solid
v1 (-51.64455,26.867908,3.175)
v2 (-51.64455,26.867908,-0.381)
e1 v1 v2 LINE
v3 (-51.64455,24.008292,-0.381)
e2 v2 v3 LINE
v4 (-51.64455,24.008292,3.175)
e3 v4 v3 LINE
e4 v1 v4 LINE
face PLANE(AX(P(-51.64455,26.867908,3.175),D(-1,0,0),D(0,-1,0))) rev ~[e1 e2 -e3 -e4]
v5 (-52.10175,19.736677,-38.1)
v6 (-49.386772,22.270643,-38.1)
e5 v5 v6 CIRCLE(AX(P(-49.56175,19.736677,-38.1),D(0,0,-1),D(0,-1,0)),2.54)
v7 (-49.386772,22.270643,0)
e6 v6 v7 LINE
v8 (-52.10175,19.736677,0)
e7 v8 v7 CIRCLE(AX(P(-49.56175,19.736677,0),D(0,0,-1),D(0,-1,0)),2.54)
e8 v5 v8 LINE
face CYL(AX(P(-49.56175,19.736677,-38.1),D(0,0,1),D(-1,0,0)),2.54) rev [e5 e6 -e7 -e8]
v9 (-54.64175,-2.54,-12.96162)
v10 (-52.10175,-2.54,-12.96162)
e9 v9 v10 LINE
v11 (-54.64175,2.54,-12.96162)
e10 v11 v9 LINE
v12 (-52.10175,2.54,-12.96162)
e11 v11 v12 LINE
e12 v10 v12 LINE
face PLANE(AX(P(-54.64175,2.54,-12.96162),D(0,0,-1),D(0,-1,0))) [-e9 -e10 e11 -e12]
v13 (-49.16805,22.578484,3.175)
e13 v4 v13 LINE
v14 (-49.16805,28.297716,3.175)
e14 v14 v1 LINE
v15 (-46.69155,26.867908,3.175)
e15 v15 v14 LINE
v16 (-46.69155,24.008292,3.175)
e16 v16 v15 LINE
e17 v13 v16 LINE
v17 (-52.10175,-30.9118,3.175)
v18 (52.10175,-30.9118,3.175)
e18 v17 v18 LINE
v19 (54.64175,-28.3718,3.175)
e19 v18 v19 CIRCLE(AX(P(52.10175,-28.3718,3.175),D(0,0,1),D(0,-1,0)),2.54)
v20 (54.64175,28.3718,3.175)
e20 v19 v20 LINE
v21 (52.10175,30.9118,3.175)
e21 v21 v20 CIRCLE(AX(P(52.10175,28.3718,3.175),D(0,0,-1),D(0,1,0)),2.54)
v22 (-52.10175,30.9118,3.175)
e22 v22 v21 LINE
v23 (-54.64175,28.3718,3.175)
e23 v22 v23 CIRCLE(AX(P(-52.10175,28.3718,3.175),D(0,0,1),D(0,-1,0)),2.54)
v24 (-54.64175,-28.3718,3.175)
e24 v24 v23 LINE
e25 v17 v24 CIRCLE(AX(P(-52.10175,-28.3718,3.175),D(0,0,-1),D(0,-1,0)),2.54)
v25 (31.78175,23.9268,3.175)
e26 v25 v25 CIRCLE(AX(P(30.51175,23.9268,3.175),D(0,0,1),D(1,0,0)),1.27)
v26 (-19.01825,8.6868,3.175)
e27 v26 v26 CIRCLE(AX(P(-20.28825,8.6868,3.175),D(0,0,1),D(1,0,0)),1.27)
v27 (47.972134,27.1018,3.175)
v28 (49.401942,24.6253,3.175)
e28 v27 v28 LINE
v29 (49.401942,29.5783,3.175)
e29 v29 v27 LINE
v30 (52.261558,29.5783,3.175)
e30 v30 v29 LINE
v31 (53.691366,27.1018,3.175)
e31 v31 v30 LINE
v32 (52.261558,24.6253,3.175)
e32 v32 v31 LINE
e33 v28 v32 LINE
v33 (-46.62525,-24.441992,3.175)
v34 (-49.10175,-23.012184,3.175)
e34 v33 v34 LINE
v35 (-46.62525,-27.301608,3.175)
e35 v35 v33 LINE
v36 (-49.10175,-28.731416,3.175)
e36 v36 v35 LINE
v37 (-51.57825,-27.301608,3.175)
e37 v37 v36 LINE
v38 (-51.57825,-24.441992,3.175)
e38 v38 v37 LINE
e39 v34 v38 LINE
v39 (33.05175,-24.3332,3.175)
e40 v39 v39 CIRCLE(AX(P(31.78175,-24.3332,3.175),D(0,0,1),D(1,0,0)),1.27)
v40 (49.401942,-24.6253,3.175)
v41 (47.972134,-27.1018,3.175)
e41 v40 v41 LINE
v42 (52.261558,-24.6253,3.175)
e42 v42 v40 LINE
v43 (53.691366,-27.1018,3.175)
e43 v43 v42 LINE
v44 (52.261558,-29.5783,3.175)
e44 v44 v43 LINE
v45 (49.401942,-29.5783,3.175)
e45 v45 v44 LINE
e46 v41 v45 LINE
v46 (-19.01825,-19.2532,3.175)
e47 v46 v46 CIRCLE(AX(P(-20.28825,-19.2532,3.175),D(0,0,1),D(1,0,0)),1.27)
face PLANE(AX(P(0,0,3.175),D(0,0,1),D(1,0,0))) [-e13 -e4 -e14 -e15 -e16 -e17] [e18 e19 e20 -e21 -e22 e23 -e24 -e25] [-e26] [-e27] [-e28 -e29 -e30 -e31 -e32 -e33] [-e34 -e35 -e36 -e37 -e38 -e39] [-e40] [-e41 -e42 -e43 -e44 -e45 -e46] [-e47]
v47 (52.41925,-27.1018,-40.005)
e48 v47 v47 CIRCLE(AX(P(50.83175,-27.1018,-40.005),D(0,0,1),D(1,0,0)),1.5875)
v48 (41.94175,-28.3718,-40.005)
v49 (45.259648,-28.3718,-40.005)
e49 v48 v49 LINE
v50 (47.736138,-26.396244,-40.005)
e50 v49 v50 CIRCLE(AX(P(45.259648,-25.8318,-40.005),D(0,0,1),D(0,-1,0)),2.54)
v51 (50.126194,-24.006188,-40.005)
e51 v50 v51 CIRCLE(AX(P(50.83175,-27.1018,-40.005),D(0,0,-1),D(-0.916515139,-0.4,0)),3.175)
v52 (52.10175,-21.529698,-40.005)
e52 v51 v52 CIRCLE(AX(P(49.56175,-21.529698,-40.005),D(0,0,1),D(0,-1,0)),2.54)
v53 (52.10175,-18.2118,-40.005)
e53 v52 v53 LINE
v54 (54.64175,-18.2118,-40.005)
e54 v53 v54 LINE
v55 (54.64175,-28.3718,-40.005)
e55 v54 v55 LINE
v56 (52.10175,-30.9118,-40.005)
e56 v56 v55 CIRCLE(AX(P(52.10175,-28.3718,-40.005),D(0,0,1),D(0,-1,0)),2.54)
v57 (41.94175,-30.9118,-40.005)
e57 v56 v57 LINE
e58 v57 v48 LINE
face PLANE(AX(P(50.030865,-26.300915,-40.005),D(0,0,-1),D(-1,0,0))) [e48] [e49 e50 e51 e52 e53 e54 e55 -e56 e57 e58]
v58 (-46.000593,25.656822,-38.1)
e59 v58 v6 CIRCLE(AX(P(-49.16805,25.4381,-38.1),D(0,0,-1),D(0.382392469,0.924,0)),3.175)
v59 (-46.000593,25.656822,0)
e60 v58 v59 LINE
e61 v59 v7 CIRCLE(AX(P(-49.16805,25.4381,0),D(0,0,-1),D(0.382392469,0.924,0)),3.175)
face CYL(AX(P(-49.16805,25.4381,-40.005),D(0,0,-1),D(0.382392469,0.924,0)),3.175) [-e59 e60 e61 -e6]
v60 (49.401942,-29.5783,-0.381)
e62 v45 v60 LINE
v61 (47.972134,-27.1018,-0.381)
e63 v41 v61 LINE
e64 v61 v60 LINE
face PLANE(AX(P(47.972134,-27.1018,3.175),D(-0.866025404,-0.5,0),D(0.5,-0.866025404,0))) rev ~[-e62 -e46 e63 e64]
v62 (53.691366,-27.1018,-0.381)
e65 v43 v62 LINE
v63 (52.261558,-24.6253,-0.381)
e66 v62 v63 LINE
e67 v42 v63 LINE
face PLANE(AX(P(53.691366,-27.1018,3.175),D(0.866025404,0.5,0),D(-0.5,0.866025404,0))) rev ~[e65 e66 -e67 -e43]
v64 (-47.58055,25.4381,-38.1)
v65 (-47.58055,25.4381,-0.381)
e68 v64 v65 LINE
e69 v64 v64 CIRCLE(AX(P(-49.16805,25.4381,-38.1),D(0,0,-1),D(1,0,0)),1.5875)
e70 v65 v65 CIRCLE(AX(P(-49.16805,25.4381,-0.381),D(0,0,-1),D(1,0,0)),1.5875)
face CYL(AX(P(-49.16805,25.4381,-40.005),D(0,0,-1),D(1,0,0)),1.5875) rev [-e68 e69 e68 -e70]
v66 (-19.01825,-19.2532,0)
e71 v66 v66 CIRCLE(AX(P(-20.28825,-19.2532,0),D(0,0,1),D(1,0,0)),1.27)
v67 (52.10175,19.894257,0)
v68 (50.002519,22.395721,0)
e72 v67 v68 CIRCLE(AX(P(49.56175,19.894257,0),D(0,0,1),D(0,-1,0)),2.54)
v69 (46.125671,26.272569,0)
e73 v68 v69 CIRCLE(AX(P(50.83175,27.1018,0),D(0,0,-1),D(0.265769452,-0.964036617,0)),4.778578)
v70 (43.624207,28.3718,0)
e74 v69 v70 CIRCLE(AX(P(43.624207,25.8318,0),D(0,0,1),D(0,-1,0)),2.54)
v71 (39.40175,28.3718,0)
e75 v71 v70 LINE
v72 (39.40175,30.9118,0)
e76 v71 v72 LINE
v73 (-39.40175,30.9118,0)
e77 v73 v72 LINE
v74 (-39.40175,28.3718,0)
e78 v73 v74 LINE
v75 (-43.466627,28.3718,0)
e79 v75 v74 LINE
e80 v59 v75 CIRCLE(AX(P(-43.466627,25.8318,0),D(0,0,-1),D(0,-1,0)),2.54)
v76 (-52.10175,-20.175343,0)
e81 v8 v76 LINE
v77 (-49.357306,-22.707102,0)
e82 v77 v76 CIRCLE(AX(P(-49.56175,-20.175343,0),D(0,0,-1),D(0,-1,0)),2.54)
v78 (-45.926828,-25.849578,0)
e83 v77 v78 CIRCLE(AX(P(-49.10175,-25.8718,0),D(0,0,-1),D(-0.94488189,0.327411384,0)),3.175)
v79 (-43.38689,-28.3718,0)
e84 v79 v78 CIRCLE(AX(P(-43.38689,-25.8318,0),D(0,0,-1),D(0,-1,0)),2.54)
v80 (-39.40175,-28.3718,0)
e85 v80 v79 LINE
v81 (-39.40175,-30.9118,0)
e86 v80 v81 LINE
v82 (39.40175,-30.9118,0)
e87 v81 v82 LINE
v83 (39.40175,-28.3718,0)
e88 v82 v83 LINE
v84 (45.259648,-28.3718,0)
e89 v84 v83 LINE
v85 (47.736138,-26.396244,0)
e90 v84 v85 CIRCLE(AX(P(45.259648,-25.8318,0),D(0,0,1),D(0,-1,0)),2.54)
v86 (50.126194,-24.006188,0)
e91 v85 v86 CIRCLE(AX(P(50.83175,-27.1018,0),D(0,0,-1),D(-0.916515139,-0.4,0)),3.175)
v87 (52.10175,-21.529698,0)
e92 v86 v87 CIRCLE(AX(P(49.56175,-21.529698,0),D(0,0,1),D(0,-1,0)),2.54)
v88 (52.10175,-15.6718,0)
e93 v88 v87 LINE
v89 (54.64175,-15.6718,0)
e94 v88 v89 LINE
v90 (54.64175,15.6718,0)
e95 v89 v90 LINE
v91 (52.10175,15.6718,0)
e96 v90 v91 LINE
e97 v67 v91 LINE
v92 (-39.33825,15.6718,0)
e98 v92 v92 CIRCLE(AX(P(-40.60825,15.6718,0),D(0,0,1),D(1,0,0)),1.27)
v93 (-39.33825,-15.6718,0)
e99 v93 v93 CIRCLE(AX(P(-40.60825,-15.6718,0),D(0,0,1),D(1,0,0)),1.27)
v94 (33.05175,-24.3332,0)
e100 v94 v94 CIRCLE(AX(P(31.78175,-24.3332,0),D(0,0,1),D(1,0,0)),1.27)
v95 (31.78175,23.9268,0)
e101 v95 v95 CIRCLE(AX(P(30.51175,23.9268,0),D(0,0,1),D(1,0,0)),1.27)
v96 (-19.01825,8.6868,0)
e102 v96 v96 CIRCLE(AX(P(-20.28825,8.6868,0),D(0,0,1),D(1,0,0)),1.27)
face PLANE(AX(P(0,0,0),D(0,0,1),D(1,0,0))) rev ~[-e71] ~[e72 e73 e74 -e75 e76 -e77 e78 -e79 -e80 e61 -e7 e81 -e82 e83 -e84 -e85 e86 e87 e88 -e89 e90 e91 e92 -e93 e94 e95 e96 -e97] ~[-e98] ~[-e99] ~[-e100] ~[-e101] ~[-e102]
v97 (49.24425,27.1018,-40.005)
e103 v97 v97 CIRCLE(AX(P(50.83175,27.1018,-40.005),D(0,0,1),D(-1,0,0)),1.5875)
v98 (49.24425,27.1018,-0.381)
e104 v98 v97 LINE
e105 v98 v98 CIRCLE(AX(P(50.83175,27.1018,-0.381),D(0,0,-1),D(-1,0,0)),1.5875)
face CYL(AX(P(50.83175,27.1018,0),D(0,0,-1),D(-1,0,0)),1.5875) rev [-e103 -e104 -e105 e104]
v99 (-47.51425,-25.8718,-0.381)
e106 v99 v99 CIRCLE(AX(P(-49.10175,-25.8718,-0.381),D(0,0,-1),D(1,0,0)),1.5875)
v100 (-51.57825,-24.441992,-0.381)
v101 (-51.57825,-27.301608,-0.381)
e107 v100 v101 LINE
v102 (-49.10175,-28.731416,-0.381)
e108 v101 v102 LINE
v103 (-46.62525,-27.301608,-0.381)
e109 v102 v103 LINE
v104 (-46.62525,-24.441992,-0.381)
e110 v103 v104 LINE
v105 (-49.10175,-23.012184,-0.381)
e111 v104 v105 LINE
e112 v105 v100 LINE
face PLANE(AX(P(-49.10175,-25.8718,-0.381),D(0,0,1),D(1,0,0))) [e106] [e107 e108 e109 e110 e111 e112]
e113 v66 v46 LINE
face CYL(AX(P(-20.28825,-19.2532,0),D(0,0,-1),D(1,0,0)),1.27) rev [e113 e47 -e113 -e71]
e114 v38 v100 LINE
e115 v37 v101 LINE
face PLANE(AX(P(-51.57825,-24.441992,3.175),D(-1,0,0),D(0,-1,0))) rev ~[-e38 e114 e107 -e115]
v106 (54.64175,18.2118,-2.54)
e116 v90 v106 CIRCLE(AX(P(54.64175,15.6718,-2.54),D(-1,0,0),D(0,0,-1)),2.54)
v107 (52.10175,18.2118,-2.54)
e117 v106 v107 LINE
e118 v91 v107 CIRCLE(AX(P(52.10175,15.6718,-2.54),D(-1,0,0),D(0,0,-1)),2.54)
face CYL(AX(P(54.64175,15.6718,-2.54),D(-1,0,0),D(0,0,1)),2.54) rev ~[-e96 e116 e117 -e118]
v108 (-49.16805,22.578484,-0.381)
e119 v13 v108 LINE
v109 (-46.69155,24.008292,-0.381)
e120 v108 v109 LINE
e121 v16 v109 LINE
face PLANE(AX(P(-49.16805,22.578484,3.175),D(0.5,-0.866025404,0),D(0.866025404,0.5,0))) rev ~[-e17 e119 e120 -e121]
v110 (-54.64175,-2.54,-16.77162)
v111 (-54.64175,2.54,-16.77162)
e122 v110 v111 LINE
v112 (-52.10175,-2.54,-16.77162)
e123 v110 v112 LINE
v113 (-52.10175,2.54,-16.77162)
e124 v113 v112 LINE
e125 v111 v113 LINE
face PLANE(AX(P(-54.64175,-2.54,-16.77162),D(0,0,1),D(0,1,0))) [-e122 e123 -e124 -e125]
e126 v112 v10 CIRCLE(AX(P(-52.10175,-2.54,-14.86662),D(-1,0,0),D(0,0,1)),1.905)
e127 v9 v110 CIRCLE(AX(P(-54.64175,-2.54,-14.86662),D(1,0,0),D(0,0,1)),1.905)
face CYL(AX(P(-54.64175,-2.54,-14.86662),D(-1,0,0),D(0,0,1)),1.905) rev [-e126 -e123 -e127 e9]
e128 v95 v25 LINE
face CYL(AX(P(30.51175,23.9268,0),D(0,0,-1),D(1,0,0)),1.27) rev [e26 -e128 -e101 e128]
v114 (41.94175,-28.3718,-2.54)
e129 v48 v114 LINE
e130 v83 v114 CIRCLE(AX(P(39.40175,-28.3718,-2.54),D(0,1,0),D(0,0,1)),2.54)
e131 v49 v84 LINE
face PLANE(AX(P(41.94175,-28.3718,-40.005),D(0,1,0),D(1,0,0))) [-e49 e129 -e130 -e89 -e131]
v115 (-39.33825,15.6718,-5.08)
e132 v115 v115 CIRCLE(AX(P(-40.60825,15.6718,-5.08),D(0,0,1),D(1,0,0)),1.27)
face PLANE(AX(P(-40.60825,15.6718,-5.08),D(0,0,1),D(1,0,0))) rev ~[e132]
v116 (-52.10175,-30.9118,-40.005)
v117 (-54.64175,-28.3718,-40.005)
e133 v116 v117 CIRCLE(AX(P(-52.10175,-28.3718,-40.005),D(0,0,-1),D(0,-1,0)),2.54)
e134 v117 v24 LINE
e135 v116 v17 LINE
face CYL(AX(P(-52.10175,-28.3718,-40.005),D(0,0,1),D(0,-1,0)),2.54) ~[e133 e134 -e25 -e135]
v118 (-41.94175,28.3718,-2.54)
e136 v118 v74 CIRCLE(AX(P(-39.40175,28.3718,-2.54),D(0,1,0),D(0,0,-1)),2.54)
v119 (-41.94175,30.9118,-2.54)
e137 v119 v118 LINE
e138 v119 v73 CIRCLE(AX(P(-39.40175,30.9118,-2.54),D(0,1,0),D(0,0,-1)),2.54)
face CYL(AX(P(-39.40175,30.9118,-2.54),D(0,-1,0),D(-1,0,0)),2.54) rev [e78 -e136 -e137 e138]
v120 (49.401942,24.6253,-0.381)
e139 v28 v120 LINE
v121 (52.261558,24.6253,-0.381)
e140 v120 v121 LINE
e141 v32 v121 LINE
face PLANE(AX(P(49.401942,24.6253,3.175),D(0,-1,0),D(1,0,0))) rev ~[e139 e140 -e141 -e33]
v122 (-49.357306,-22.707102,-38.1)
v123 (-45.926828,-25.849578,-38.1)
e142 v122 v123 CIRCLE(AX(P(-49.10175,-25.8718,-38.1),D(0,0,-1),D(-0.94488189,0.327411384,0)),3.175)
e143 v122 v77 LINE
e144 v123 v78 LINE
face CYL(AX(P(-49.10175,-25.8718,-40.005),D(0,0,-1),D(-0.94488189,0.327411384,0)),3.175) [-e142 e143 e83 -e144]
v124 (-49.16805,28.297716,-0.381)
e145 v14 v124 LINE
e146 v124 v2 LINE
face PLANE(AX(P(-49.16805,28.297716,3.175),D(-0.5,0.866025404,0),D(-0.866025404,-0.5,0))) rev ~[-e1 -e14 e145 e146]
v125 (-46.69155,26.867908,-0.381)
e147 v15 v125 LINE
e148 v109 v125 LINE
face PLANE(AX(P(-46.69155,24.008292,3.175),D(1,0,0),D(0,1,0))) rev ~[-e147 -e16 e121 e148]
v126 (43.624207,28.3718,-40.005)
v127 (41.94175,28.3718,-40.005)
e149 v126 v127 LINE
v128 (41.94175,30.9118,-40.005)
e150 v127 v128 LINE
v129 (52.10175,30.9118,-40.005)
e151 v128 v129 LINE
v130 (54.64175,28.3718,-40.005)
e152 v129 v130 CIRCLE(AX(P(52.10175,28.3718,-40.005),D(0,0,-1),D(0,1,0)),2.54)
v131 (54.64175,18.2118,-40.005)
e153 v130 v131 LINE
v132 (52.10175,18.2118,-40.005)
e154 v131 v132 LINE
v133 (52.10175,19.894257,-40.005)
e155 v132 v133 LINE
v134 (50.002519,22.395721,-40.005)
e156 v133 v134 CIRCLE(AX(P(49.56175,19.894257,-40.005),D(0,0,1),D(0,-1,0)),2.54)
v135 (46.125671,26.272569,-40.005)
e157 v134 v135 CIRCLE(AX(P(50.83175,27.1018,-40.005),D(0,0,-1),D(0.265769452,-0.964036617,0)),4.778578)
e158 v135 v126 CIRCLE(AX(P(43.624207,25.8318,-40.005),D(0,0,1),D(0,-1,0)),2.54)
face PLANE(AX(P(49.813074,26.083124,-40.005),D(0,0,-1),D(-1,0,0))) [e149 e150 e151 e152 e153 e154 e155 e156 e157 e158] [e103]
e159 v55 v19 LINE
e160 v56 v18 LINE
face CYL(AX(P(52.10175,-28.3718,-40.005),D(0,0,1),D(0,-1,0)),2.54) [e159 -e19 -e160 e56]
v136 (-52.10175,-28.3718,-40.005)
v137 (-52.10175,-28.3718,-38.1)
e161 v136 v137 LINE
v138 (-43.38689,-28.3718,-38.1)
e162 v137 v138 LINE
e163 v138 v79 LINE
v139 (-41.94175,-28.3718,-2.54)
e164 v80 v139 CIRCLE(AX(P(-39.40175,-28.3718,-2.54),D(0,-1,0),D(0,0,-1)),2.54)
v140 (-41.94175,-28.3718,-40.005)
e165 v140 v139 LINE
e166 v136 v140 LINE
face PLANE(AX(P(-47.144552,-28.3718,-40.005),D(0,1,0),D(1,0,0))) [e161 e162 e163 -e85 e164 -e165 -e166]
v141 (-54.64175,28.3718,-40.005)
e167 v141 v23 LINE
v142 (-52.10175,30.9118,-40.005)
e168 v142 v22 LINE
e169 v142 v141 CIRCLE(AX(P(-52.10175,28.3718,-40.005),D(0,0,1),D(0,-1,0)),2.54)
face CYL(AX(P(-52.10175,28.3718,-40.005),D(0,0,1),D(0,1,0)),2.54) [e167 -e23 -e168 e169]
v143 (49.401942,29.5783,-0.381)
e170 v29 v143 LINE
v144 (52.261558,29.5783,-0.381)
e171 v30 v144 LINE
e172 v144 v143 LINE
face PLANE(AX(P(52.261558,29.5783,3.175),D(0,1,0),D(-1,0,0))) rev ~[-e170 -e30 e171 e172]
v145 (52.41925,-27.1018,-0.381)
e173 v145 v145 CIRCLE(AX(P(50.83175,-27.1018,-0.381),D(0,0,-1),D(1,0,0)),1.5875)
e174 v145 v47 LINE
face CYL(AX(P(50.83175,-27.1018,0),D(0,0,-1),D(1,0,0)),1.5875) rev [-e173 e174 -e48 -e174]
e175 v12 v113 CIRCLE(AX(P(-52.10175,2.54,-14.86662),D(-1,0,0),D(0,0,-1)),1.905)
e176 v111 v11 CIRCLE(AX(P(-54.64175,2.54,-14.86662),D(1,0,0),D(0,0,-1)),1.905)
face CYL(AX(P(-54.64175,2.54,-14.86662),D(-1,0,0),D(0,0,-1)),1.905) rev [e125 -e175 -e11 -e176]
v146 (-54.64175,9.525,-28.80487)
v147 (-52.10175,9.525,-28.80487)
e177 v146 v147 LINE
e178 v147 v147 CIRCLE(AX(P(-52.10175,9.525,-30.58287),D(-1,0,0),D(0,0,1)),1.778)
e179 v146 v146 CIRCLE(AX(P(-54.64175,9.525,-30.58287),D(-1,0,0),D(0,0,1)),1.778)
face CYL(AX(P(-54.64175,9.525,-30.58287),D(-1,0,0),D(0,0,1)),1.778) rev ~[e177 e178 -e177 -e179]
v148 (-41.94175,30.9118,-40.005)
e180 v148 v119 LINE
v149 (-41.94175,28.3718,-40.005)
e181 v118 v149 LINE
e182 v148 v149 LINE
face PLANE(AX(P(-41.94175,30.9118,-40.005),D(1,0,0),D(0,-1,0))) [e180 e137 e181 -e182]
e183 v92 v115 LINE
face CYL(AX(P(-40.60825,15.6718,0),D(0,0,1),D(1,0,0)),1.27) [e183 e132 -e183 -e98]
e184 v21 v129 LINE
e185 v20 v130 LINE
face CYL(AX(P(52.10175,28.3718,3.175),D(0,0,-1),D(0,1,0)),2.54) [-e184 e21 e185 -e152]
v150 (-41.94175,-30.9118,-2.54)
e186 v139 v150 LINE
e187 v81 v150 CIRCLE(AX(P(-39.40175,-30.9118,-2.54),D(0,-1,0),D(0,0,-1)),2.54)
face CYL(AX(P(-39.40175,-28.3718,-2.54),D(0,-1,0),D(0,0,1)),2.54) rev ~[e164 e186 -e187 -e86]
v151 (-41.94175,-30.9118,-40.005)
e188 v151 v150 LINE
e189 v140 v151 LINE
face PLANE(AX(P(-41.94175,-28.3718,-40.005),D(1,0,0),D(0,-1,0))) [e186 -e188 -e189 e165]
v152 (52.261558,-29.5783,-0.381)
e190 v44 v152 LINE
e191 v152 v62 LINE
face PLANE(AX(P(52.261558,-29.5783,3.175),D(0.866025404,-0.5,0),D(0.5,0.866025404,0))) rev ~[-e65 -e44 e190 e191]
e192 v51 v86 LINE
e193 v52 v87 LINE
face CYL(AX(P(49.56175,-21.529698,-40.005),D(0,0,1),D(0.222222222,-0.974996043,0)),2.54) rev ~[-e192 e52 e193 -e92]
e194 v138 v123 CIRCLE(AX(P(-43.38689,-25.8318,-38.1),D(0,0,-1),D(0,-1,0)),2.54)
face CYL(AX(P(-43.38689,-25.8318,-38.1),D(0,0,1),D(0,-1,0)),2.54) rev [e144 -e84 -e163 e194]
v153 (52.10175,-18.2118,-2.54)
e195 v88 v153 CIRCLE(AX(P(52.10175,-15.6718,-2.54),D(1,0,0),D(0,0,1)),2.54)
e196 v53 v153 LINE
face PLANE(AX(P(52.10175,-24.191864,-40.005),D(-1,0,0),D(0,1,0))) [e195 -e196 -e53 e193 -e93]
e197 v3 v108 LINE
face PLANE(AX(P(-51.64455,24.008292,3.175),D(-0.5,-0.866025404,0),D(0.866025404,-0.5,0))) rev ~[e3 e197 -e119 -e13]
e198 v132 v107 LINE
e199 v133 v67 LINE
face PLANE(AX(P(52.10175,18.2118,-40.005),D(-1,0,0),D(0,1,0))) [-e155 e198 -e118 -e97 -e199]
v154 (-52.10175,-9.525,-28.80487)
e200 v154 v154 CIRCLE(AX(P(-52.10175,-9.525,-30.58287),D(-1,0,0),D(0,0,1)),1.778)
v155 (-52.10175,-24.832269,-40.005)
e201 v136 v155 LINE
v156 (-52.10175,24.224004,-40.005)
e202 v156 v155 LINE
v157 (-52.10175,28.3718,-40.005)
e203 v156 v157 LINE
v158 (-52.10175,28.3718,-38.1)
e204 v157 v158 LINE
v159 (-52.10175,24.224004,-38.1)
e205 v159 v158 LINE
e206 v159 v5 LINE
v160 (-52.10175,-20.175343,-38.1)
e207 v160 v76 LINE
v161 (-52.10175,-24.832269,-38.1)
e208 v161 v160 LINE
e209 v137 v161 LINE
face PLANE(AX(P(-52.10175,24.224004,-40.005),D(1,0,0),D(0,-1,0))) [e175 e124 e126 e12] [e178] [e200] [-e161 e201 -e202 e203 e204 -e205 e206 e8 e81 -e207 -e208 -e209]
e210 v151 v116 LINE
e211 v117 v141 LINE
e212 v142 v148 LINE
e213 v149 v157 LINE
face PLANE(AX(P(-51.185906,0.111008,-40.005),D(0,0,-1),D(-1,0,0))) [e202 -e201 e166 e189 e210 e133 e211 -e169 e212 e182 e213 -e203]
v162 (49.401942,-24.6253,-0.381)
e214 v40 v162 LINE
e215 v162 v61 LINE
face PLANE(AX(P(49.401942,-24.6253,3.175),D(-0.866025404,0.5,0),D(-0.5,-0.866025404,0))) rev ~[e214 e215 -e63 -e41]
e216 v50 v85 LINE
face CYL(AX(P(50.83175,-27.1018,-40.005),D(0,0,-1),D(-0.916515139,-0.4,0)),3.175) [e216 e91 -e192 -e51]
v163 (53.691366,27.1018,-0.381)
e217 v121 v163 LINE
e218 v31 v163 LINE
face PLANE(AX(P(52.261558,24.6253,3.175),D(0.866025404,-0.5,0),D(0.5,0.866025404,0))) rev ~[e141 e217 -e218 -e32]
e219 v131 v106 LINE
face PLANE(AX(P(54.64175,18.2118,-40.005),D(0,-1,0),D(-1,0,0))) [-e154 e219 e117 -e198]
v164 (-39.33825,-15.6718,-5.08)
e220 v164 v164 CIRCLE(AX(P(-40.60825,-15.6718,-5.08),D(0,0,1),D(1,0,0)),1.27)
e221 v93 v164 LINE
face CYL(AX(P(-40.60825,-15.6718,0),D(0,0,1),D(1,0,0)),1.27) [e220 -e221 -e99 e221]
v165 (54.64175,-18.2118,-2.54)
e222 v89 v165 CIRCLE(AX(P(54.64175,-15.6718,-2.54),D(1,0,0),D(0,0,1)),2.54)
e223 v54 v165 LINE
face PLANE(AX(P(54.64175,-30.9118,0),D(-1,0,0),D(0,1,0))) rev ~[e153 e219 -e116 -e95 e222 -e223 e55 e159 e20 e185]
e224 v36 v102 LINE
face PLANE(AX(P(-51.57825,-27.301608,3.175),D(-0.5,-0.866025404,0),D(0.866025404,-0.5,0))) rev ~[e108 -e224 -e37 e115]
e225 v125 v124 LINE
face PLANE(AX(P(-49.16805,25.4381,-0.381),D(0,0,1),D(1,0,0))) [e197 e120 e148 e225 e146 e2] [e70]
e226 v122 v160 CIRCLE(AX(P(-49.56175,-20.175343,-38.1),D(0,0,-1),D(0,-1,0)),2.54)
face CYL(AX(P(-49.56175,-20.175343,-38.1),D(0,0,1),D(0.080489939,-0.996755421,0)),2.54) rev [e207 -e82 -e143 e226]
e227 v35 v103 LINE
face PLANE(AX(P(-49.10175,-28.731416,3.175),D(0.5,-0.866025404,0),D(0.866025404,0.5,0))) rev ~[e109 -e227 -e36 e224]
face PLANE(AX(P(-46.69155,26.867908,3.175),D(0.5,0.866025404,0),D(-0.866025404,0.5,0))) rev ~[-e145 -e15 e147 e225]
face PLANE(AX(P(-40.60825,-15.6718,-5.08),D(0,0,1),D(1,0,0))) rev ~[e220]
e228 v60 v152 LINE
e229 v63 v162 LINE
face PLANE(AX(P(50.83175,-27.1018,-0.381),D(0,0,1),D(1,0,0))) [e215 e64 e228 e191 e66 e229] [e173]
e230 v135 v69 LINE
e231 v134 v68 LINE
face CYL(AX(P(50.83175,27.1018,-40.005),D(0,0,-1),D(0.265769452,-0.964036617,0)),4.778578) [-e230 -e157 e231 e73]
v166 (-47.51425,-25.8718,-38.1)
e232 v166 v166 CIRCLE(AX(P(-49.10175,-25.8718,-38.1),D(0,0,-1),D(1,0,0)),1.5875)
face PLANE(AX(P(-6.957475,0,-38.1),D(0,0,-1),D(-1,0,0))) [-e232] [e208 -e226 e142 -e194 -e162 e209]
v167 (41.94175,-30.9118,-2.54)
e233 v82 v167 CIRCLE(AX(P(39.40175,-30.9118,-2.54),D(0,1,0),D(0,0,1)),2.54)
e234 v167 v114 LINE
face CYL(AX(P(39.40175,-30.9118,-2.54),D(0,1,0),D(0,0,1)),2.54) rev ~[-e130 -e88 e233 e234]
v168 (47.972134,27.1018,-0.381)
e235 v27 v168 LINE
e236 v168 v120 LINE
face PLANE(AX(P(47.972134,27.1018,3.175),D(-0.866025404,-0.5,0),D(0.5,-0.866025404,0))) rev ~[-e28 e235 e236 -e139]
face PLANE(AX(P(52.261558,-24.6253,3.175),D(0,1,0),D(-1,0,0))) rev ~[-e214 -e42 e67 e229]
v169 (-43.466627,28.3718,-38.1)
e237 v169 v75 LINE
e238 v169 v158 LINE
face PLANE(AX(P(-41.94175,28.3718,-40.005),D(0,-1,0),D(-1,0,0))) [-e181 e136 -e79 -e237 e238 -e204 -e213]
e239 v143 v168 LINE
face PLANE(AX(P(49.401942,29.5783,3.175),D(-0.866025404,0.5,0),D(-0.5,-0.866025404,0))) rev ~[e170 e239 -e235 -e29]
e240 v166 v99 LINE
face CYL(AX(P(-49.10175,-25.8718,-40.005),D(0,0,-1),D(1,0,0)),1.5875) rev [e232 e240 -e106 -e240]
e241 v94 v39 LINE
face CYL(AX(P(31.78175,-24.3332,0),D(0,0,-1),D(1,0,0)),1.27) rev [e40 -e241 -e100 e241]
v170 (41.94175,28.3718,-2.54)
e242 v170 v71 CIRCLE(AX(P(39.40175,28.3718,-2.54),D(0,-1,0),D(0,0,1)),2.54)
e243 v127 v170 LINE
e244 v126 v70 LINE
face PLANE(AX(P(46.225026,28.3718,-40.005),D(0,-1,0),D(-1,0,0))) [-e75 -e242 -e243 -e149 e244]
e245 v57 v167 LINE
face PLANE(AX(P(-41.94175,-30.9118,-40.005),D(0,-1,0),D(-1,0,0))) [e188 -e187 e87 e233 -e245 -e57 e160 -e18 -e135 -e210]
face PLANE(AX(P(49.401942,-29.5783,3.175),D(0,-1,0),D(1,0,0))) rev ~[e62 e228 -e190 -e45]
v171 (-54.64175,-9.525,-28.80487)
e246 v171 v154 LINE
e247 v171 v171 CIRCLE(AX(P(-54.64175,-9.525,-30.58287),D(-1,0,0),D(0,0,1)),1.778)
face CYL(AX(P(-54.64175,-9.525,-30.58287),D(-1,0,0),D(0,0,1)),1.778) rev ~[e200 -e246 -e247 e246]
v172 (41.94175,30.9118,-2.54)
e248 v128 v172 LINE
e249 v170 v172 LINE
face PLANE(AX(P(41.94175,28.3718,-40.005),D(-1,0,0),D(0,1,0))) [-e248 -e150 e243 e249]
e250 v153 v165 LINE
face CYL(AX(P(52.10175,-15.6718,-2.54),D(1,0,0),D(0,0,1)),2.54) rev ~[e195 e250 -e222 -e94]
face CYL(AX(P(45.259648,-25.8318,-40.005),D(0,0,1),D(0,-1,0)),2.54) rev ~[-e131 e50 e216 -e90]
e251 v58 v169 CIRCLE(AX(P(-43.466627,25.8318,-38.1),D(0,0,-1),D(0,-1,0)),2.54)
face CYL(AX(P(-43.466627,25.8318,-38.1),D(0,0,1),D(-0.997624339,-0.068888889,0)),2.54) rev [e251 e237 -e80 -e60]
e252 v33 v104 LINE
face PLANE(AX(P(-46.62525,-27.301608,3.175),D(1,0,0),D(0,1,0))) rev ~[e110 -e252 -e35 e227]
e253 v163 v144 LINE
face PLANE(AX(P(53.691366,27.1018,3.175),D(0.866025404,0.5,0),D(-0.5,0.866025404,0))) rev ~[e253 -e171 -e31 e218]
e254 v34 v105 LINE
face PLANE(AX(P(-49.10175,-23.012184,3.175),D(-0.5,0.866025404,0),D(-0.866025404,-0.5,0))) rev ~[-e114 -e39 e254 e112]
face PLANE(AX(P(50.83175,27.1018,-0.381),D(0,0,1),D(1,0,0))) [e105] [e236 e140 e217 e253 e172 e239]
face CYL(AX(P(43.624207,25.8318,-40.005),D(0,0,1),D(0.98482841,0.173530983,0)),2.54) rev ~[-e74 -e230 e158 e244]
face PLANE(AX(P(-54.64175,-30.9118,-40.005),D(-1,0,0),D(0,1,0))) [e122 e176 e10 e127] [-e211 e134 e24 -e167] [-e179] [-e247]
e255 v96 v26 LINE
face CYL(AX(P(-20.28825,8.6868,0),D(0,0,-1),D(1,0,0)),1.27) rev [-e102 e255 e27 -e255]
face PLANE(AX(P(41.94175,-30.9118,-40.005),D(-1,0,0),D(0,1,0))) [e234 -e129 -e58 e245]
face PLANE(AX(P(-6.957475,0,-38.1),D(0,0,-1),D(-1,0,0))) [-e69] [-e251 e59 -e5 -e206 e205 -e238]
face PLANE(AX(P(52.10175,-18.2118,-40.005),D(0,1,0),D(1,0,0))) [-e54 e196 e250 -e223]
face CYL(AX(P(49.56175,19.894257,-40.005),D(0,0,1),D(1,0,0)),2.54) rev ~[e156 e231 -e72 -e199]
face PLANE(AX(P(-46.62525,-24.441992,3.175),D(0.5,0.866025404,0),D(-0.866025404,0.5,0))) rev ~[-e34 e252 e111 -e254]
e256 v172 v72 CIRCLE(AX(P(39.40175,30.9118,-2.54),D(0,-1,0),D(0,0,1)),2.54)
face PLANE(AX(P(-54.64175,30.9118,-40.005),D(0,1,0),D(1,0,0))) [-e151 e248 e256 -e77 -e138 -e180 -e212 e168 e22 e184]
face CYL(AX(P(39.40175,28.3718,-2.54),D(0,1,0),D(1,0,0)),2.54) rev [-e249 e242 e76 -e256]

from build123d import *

# Parameters (mm, degrees)
SKETCH1_W           = 109.2835
SKETCH1_H           = 61.8236
SKETCH1_R           = 1.27
SKETCH1_R_2         = 1.5875
BOSS_EXTRUDE1_DEPTH = 3.175
BOSS_EXTRUDE2_START = -40.005
SKETCH3_R           = 1.5875
BOSS_EXTRUDE2_DEPTH = 40.005
SKETCH4_W           = 90.288549843
SKETCH4_H           = 56.7436
CUT_EXTRUDE1_DEPTH  = 1.905
FILLET1_R           = 2.54
SKETCH6_R           = 1.27
BOSS_EXTRUDE3_DEPTH = 5.08
FILLET2_R           = 2.54
SKETCH9_R           = 1.778
CUT_EXTRUDE4_DEPTH  = 3.81
CUT_EXTRUDE5_DEPTH  = 3.556


with BuildPart() as part:
    # Sketch1 → Boss-Extrude1 (new body)
    with BuildSketch(Plane.XY):
        Rectangle(SKETCH1_W, SKETCH1_H)
        with Locations((30.51175, 23.9268)):
            Circle(SKETCH1_R, mode=Mode.SUBTRACT)
        with Locations((-20.28825, 8.6868)):
            Circle(SKETCH1_R, mode=Mode.SUBTRACT)
        with Locations((-20.28825, -19.2532)):
            Circle(SKETCH1_R, mode=Mode.SUBTRACT)
        with Locations((31.78175, -24.3332)):
            Circle(SKETCH1_R, mode=Mode.SUBTRACT)
        with Locations((50.83175, -27.1018)):
            Circle(SKETCH1_R_2, mode=Mode.SUBTRACT)
        with Locations((-49.16805, 25.4381)):
            Circle(SKETCH1_R_2, mode=Mode.SUBTRACT)
        with Locations((-49.10175, -25.8718)):
            Circle(SKETCH1_R_2, mode=Mode.SUBTRACT)
        with Locations(Location((50.83175, 27.1018, 0), (0, 0, 180))):
            Circle(SKETCH1_R_2, mode=Mode.SUBTRACT)
    extrude(amount=BOSS_EXTRUDE1_DEPTH)

    # Sketch3 → Boss-Extrude2 (add)
    # profile 1 of 3: a face of its own
    with BuildSketch(Plane.XY.offset(BOSS_EXTRUDE2_START)):
        with BuildLine():
            Line((-54.64175, 30.9118), (-41.94175, 30.9118))
            Line((-41.94175, 30.9118), (-41.94175, 28.3718))
            Line((-41.94175, 28.3718), (-47.953953912, 28.3718))
            ThreePointArc((-47.953953912, 28.3718), (-46.92298597, 23.19303597), (-52.10175, 24.224003912))
            Line((-52.10175, 24.224003912), (-52.10175, 18.2118))
            Line((-52.10175, 18.2118), (-52.10175, -18.2118))
            Line((-52.10175, -18.2118), (-52.10175, -24.832268856))
            ThreePointArc((-52.10175, -24.832268856), (-47.256776002, -23.28786967), (-47.144551747, -28.3718))
            Line((-47.144551747, -28.3718), (-41.94175, -28.3718))
            Line((-41.94175, -28.3718), (-41.94175, -30.9118))
            Line((-41.94175, -30.9118), (-54.64175, -30.9118))
            Line((-54.64175, -30.9118), (-54.64175, -18.2118))
            Line((-54.64175, -18.2118), (-54.64175, 18.2118))
            Line((-54.64175, 18.2118), (-54.64175, 30.9118))
        make_face()
        with Locations((-49.16805, 25.4381)):
            Circle(SKETCH3_R, mode=Mode.SUBTRACT)
        with Locations((-49.10175, -25.8718)):
            Circle(SKETCH3_R, mode=Mode.SUBTRACT)
    # profile 2 of 3: a face of its own
    with BuildSketch(Plane.XY.offset(BOSS_EXTRUDE2_START)):
        with BuildLine():
            Line((54.64175, 30.9118), (54.64175, 18.2118))
            Line((54.64175, 18.2118), (52.10175, 18.2118))
            Line((52.10175, 18.2118), (52.10175, 22.49507603))
            ThreePointArc((52.10175, 22.49507603), (47.452785237, 23.722835237), (46.22502603, 28.3718))
            Line((46.22502603, 28.3718), (41.94175, 28.3718))
            Line((41.94175, 28.3718), (41.94175, 30.9118))
            Line((41.94175, 30.9118), (54.64175, 30.9118))
        make_face()
        with Locations(Location((50.83175, 27.1018, 0), (0, 0, 180))):
            Circle(SKETCH3_R, mode=Mode.SUBTRACT)
    # profile 3 of 3: a face of its own
    with BuildSketch(Plane.XY.offset(BOSS_EXTRUDE2_START)):
        with BuildLine():
            Line((52.10175, -24.191864434), (52.10175, -18.2118))
            Line((52.10175, -18.2118), (54.64175, -18.2118))
            Line((54.64175, -18.2118), (54.64175, -30.9118))
            Line((54.64175, -30.9118), (41.94175, -30.9118))
            Line((41.94175, -30.9118), (41.94175, -28.3718))
            Line((41.94175, -28.3718), (47.921814434, -28.3718))
            ThreePointArc((47.921814434, -28.3718), (48.58668597, -24.85673597), (52.10175, -24.191864434))
        make_face()
        with Locations((50.83175, -27.1018)):
            Circle(SKETCH3_R, mode=Mode.SUBTRACT)
    extrude(amount=BOSS_EXTRUDE2_DEPTH)

    # Sketch4 → Cut-Extrude1 (cut)
    with BuildSketch(Plane(origin=(0, 0, -40.005), x_dir=(-1, 0, 0), z_dir=(0, 0, -1))):
        with Locations((6.957475078, 0)):
            Rectangle(SKETCH4_W, SKETCH4_H)
    extrude(amount=-CUT_EXTRUDE1_DEPTH, mode=Mode.SUBTRACT)

    # Fillet1
    fillet1_edges = [part.edges().sort_by_distance(p)[0] for p in [
        (52.10175, 22.49507603, -20.0025),
        (46.22502603, 28.3718, -20.0025),
        (-47.144551747, -28.3718, -19.05),
        (-52.10175, -24.832268856, -19.05),
        (-52.10175, 24.224003912, -19.05),
        (-47.953953912, 28.3718, -19.05),
        (-54.64175, 30.9118, -18.415),
        (54.64175, 30.9118, -18.415),
        (54.64175, -30.9118, -18.415),
        (-54.64175, -30.9118, -18.415),
        (47.921814434, -28.3718, -20.0025),
        (52.10175, -24.191864434, -20.0025),
    ]]
    fillet(fillet1_edges, radius=FILLET1_R)

    # Sketch6 → Boss-Extrude3 (add)
    with BuildSketch(Plane.XY):
        with Locations((-40.60825, 15.6718)):
            Circle(SKETCH6_R)
        with Locations((-40.60825, -15.6718)):
            Circle(SKETCH6_R)
    extrude(amount=-BOSS_EXTRUDE3_DEPTH)

    # Fillet2
    fillet2_edges = [part.edges().sort_by_distance(p)[0] for p in [
        (41.94175, 29.6418, 0),
        (53.37175, 18.2118, 0),
        (-41.94175, -29.6418, 0),
        (-41.94175, 29.6418, 0),
        (53.37175, -18.2118, 0),
        (41.94175, -29.6418, 0),
    ]]
    fillet(fillet2_edges, radius=FILLET2_R)

    # Sketch9 → Cut-Extrude4 (cut)
    with BuildSketch(Plane.ZY.offset(54.64175)):
        with Locations((-30.58287, 9.525)):
            Circle(SKETCH9_R)
        with Locations((-30.58287, -9.525)):
            Circle(SKETCH9_R)
        with BuildLine():
            Line((-12.96162, 2.54), (-12.96162, -2.54))
            ThreePointArc((-12.96162, -2.54), (-14.86662, -4.445), (-16.77162, -2.54))
            Line((-16.77162, -2.54), (-16.77162, 2.54))
            ThreePointArc((-16.77162, 2.54), (-14.86662, 4.445), (-12.96162, 2.54))
        make_face()
    extrude(amount=-CUT_EXTRUDE4_DEPTH, mode=Mode.SUBTRACT)

    # Sketch10 → Cut-Extrude5 (cut)
    with BuildSketch(Plane.XY.offset(3.175)):
        Polygon((-49.16805, 28.297715883), (-51.64455, 26.867907942), (-51.64455, 24.008292058), (-49.16805, 22.578484117), (-46.69155, 24.008292058), (-46.69155, 26.867907942), align=None)
        Polygon((-46.62525, -24.441992058), (-49.10175, -23.012184117), (-51.57825, -24.441992058), (-51.57825, -27.301607942), (-49.10175, -28.731415883), (-46.62525, -27.301607942), align=None)
        Polygon((47.972134117, 27.1018), (49.401942058, 24.6253), (52.261557942, 24.6253), (53.691365883, 27.1018), (52.261557942, 29.5783), (49.401942058, 29.5783), align=None)
        Polygon((49.401942058, -24.6253), (47.972134117, -27.1018), (49.401942058, -29.5783), (52.261557942, -29.5783), (53.691365883, -27.1018), (52.261557942, -24.6253), align=None)
    extrude(amount=-CUT_EXTRUDE5_DEPTH, mode=Mode.SUBTRACT)


solid = part.part
